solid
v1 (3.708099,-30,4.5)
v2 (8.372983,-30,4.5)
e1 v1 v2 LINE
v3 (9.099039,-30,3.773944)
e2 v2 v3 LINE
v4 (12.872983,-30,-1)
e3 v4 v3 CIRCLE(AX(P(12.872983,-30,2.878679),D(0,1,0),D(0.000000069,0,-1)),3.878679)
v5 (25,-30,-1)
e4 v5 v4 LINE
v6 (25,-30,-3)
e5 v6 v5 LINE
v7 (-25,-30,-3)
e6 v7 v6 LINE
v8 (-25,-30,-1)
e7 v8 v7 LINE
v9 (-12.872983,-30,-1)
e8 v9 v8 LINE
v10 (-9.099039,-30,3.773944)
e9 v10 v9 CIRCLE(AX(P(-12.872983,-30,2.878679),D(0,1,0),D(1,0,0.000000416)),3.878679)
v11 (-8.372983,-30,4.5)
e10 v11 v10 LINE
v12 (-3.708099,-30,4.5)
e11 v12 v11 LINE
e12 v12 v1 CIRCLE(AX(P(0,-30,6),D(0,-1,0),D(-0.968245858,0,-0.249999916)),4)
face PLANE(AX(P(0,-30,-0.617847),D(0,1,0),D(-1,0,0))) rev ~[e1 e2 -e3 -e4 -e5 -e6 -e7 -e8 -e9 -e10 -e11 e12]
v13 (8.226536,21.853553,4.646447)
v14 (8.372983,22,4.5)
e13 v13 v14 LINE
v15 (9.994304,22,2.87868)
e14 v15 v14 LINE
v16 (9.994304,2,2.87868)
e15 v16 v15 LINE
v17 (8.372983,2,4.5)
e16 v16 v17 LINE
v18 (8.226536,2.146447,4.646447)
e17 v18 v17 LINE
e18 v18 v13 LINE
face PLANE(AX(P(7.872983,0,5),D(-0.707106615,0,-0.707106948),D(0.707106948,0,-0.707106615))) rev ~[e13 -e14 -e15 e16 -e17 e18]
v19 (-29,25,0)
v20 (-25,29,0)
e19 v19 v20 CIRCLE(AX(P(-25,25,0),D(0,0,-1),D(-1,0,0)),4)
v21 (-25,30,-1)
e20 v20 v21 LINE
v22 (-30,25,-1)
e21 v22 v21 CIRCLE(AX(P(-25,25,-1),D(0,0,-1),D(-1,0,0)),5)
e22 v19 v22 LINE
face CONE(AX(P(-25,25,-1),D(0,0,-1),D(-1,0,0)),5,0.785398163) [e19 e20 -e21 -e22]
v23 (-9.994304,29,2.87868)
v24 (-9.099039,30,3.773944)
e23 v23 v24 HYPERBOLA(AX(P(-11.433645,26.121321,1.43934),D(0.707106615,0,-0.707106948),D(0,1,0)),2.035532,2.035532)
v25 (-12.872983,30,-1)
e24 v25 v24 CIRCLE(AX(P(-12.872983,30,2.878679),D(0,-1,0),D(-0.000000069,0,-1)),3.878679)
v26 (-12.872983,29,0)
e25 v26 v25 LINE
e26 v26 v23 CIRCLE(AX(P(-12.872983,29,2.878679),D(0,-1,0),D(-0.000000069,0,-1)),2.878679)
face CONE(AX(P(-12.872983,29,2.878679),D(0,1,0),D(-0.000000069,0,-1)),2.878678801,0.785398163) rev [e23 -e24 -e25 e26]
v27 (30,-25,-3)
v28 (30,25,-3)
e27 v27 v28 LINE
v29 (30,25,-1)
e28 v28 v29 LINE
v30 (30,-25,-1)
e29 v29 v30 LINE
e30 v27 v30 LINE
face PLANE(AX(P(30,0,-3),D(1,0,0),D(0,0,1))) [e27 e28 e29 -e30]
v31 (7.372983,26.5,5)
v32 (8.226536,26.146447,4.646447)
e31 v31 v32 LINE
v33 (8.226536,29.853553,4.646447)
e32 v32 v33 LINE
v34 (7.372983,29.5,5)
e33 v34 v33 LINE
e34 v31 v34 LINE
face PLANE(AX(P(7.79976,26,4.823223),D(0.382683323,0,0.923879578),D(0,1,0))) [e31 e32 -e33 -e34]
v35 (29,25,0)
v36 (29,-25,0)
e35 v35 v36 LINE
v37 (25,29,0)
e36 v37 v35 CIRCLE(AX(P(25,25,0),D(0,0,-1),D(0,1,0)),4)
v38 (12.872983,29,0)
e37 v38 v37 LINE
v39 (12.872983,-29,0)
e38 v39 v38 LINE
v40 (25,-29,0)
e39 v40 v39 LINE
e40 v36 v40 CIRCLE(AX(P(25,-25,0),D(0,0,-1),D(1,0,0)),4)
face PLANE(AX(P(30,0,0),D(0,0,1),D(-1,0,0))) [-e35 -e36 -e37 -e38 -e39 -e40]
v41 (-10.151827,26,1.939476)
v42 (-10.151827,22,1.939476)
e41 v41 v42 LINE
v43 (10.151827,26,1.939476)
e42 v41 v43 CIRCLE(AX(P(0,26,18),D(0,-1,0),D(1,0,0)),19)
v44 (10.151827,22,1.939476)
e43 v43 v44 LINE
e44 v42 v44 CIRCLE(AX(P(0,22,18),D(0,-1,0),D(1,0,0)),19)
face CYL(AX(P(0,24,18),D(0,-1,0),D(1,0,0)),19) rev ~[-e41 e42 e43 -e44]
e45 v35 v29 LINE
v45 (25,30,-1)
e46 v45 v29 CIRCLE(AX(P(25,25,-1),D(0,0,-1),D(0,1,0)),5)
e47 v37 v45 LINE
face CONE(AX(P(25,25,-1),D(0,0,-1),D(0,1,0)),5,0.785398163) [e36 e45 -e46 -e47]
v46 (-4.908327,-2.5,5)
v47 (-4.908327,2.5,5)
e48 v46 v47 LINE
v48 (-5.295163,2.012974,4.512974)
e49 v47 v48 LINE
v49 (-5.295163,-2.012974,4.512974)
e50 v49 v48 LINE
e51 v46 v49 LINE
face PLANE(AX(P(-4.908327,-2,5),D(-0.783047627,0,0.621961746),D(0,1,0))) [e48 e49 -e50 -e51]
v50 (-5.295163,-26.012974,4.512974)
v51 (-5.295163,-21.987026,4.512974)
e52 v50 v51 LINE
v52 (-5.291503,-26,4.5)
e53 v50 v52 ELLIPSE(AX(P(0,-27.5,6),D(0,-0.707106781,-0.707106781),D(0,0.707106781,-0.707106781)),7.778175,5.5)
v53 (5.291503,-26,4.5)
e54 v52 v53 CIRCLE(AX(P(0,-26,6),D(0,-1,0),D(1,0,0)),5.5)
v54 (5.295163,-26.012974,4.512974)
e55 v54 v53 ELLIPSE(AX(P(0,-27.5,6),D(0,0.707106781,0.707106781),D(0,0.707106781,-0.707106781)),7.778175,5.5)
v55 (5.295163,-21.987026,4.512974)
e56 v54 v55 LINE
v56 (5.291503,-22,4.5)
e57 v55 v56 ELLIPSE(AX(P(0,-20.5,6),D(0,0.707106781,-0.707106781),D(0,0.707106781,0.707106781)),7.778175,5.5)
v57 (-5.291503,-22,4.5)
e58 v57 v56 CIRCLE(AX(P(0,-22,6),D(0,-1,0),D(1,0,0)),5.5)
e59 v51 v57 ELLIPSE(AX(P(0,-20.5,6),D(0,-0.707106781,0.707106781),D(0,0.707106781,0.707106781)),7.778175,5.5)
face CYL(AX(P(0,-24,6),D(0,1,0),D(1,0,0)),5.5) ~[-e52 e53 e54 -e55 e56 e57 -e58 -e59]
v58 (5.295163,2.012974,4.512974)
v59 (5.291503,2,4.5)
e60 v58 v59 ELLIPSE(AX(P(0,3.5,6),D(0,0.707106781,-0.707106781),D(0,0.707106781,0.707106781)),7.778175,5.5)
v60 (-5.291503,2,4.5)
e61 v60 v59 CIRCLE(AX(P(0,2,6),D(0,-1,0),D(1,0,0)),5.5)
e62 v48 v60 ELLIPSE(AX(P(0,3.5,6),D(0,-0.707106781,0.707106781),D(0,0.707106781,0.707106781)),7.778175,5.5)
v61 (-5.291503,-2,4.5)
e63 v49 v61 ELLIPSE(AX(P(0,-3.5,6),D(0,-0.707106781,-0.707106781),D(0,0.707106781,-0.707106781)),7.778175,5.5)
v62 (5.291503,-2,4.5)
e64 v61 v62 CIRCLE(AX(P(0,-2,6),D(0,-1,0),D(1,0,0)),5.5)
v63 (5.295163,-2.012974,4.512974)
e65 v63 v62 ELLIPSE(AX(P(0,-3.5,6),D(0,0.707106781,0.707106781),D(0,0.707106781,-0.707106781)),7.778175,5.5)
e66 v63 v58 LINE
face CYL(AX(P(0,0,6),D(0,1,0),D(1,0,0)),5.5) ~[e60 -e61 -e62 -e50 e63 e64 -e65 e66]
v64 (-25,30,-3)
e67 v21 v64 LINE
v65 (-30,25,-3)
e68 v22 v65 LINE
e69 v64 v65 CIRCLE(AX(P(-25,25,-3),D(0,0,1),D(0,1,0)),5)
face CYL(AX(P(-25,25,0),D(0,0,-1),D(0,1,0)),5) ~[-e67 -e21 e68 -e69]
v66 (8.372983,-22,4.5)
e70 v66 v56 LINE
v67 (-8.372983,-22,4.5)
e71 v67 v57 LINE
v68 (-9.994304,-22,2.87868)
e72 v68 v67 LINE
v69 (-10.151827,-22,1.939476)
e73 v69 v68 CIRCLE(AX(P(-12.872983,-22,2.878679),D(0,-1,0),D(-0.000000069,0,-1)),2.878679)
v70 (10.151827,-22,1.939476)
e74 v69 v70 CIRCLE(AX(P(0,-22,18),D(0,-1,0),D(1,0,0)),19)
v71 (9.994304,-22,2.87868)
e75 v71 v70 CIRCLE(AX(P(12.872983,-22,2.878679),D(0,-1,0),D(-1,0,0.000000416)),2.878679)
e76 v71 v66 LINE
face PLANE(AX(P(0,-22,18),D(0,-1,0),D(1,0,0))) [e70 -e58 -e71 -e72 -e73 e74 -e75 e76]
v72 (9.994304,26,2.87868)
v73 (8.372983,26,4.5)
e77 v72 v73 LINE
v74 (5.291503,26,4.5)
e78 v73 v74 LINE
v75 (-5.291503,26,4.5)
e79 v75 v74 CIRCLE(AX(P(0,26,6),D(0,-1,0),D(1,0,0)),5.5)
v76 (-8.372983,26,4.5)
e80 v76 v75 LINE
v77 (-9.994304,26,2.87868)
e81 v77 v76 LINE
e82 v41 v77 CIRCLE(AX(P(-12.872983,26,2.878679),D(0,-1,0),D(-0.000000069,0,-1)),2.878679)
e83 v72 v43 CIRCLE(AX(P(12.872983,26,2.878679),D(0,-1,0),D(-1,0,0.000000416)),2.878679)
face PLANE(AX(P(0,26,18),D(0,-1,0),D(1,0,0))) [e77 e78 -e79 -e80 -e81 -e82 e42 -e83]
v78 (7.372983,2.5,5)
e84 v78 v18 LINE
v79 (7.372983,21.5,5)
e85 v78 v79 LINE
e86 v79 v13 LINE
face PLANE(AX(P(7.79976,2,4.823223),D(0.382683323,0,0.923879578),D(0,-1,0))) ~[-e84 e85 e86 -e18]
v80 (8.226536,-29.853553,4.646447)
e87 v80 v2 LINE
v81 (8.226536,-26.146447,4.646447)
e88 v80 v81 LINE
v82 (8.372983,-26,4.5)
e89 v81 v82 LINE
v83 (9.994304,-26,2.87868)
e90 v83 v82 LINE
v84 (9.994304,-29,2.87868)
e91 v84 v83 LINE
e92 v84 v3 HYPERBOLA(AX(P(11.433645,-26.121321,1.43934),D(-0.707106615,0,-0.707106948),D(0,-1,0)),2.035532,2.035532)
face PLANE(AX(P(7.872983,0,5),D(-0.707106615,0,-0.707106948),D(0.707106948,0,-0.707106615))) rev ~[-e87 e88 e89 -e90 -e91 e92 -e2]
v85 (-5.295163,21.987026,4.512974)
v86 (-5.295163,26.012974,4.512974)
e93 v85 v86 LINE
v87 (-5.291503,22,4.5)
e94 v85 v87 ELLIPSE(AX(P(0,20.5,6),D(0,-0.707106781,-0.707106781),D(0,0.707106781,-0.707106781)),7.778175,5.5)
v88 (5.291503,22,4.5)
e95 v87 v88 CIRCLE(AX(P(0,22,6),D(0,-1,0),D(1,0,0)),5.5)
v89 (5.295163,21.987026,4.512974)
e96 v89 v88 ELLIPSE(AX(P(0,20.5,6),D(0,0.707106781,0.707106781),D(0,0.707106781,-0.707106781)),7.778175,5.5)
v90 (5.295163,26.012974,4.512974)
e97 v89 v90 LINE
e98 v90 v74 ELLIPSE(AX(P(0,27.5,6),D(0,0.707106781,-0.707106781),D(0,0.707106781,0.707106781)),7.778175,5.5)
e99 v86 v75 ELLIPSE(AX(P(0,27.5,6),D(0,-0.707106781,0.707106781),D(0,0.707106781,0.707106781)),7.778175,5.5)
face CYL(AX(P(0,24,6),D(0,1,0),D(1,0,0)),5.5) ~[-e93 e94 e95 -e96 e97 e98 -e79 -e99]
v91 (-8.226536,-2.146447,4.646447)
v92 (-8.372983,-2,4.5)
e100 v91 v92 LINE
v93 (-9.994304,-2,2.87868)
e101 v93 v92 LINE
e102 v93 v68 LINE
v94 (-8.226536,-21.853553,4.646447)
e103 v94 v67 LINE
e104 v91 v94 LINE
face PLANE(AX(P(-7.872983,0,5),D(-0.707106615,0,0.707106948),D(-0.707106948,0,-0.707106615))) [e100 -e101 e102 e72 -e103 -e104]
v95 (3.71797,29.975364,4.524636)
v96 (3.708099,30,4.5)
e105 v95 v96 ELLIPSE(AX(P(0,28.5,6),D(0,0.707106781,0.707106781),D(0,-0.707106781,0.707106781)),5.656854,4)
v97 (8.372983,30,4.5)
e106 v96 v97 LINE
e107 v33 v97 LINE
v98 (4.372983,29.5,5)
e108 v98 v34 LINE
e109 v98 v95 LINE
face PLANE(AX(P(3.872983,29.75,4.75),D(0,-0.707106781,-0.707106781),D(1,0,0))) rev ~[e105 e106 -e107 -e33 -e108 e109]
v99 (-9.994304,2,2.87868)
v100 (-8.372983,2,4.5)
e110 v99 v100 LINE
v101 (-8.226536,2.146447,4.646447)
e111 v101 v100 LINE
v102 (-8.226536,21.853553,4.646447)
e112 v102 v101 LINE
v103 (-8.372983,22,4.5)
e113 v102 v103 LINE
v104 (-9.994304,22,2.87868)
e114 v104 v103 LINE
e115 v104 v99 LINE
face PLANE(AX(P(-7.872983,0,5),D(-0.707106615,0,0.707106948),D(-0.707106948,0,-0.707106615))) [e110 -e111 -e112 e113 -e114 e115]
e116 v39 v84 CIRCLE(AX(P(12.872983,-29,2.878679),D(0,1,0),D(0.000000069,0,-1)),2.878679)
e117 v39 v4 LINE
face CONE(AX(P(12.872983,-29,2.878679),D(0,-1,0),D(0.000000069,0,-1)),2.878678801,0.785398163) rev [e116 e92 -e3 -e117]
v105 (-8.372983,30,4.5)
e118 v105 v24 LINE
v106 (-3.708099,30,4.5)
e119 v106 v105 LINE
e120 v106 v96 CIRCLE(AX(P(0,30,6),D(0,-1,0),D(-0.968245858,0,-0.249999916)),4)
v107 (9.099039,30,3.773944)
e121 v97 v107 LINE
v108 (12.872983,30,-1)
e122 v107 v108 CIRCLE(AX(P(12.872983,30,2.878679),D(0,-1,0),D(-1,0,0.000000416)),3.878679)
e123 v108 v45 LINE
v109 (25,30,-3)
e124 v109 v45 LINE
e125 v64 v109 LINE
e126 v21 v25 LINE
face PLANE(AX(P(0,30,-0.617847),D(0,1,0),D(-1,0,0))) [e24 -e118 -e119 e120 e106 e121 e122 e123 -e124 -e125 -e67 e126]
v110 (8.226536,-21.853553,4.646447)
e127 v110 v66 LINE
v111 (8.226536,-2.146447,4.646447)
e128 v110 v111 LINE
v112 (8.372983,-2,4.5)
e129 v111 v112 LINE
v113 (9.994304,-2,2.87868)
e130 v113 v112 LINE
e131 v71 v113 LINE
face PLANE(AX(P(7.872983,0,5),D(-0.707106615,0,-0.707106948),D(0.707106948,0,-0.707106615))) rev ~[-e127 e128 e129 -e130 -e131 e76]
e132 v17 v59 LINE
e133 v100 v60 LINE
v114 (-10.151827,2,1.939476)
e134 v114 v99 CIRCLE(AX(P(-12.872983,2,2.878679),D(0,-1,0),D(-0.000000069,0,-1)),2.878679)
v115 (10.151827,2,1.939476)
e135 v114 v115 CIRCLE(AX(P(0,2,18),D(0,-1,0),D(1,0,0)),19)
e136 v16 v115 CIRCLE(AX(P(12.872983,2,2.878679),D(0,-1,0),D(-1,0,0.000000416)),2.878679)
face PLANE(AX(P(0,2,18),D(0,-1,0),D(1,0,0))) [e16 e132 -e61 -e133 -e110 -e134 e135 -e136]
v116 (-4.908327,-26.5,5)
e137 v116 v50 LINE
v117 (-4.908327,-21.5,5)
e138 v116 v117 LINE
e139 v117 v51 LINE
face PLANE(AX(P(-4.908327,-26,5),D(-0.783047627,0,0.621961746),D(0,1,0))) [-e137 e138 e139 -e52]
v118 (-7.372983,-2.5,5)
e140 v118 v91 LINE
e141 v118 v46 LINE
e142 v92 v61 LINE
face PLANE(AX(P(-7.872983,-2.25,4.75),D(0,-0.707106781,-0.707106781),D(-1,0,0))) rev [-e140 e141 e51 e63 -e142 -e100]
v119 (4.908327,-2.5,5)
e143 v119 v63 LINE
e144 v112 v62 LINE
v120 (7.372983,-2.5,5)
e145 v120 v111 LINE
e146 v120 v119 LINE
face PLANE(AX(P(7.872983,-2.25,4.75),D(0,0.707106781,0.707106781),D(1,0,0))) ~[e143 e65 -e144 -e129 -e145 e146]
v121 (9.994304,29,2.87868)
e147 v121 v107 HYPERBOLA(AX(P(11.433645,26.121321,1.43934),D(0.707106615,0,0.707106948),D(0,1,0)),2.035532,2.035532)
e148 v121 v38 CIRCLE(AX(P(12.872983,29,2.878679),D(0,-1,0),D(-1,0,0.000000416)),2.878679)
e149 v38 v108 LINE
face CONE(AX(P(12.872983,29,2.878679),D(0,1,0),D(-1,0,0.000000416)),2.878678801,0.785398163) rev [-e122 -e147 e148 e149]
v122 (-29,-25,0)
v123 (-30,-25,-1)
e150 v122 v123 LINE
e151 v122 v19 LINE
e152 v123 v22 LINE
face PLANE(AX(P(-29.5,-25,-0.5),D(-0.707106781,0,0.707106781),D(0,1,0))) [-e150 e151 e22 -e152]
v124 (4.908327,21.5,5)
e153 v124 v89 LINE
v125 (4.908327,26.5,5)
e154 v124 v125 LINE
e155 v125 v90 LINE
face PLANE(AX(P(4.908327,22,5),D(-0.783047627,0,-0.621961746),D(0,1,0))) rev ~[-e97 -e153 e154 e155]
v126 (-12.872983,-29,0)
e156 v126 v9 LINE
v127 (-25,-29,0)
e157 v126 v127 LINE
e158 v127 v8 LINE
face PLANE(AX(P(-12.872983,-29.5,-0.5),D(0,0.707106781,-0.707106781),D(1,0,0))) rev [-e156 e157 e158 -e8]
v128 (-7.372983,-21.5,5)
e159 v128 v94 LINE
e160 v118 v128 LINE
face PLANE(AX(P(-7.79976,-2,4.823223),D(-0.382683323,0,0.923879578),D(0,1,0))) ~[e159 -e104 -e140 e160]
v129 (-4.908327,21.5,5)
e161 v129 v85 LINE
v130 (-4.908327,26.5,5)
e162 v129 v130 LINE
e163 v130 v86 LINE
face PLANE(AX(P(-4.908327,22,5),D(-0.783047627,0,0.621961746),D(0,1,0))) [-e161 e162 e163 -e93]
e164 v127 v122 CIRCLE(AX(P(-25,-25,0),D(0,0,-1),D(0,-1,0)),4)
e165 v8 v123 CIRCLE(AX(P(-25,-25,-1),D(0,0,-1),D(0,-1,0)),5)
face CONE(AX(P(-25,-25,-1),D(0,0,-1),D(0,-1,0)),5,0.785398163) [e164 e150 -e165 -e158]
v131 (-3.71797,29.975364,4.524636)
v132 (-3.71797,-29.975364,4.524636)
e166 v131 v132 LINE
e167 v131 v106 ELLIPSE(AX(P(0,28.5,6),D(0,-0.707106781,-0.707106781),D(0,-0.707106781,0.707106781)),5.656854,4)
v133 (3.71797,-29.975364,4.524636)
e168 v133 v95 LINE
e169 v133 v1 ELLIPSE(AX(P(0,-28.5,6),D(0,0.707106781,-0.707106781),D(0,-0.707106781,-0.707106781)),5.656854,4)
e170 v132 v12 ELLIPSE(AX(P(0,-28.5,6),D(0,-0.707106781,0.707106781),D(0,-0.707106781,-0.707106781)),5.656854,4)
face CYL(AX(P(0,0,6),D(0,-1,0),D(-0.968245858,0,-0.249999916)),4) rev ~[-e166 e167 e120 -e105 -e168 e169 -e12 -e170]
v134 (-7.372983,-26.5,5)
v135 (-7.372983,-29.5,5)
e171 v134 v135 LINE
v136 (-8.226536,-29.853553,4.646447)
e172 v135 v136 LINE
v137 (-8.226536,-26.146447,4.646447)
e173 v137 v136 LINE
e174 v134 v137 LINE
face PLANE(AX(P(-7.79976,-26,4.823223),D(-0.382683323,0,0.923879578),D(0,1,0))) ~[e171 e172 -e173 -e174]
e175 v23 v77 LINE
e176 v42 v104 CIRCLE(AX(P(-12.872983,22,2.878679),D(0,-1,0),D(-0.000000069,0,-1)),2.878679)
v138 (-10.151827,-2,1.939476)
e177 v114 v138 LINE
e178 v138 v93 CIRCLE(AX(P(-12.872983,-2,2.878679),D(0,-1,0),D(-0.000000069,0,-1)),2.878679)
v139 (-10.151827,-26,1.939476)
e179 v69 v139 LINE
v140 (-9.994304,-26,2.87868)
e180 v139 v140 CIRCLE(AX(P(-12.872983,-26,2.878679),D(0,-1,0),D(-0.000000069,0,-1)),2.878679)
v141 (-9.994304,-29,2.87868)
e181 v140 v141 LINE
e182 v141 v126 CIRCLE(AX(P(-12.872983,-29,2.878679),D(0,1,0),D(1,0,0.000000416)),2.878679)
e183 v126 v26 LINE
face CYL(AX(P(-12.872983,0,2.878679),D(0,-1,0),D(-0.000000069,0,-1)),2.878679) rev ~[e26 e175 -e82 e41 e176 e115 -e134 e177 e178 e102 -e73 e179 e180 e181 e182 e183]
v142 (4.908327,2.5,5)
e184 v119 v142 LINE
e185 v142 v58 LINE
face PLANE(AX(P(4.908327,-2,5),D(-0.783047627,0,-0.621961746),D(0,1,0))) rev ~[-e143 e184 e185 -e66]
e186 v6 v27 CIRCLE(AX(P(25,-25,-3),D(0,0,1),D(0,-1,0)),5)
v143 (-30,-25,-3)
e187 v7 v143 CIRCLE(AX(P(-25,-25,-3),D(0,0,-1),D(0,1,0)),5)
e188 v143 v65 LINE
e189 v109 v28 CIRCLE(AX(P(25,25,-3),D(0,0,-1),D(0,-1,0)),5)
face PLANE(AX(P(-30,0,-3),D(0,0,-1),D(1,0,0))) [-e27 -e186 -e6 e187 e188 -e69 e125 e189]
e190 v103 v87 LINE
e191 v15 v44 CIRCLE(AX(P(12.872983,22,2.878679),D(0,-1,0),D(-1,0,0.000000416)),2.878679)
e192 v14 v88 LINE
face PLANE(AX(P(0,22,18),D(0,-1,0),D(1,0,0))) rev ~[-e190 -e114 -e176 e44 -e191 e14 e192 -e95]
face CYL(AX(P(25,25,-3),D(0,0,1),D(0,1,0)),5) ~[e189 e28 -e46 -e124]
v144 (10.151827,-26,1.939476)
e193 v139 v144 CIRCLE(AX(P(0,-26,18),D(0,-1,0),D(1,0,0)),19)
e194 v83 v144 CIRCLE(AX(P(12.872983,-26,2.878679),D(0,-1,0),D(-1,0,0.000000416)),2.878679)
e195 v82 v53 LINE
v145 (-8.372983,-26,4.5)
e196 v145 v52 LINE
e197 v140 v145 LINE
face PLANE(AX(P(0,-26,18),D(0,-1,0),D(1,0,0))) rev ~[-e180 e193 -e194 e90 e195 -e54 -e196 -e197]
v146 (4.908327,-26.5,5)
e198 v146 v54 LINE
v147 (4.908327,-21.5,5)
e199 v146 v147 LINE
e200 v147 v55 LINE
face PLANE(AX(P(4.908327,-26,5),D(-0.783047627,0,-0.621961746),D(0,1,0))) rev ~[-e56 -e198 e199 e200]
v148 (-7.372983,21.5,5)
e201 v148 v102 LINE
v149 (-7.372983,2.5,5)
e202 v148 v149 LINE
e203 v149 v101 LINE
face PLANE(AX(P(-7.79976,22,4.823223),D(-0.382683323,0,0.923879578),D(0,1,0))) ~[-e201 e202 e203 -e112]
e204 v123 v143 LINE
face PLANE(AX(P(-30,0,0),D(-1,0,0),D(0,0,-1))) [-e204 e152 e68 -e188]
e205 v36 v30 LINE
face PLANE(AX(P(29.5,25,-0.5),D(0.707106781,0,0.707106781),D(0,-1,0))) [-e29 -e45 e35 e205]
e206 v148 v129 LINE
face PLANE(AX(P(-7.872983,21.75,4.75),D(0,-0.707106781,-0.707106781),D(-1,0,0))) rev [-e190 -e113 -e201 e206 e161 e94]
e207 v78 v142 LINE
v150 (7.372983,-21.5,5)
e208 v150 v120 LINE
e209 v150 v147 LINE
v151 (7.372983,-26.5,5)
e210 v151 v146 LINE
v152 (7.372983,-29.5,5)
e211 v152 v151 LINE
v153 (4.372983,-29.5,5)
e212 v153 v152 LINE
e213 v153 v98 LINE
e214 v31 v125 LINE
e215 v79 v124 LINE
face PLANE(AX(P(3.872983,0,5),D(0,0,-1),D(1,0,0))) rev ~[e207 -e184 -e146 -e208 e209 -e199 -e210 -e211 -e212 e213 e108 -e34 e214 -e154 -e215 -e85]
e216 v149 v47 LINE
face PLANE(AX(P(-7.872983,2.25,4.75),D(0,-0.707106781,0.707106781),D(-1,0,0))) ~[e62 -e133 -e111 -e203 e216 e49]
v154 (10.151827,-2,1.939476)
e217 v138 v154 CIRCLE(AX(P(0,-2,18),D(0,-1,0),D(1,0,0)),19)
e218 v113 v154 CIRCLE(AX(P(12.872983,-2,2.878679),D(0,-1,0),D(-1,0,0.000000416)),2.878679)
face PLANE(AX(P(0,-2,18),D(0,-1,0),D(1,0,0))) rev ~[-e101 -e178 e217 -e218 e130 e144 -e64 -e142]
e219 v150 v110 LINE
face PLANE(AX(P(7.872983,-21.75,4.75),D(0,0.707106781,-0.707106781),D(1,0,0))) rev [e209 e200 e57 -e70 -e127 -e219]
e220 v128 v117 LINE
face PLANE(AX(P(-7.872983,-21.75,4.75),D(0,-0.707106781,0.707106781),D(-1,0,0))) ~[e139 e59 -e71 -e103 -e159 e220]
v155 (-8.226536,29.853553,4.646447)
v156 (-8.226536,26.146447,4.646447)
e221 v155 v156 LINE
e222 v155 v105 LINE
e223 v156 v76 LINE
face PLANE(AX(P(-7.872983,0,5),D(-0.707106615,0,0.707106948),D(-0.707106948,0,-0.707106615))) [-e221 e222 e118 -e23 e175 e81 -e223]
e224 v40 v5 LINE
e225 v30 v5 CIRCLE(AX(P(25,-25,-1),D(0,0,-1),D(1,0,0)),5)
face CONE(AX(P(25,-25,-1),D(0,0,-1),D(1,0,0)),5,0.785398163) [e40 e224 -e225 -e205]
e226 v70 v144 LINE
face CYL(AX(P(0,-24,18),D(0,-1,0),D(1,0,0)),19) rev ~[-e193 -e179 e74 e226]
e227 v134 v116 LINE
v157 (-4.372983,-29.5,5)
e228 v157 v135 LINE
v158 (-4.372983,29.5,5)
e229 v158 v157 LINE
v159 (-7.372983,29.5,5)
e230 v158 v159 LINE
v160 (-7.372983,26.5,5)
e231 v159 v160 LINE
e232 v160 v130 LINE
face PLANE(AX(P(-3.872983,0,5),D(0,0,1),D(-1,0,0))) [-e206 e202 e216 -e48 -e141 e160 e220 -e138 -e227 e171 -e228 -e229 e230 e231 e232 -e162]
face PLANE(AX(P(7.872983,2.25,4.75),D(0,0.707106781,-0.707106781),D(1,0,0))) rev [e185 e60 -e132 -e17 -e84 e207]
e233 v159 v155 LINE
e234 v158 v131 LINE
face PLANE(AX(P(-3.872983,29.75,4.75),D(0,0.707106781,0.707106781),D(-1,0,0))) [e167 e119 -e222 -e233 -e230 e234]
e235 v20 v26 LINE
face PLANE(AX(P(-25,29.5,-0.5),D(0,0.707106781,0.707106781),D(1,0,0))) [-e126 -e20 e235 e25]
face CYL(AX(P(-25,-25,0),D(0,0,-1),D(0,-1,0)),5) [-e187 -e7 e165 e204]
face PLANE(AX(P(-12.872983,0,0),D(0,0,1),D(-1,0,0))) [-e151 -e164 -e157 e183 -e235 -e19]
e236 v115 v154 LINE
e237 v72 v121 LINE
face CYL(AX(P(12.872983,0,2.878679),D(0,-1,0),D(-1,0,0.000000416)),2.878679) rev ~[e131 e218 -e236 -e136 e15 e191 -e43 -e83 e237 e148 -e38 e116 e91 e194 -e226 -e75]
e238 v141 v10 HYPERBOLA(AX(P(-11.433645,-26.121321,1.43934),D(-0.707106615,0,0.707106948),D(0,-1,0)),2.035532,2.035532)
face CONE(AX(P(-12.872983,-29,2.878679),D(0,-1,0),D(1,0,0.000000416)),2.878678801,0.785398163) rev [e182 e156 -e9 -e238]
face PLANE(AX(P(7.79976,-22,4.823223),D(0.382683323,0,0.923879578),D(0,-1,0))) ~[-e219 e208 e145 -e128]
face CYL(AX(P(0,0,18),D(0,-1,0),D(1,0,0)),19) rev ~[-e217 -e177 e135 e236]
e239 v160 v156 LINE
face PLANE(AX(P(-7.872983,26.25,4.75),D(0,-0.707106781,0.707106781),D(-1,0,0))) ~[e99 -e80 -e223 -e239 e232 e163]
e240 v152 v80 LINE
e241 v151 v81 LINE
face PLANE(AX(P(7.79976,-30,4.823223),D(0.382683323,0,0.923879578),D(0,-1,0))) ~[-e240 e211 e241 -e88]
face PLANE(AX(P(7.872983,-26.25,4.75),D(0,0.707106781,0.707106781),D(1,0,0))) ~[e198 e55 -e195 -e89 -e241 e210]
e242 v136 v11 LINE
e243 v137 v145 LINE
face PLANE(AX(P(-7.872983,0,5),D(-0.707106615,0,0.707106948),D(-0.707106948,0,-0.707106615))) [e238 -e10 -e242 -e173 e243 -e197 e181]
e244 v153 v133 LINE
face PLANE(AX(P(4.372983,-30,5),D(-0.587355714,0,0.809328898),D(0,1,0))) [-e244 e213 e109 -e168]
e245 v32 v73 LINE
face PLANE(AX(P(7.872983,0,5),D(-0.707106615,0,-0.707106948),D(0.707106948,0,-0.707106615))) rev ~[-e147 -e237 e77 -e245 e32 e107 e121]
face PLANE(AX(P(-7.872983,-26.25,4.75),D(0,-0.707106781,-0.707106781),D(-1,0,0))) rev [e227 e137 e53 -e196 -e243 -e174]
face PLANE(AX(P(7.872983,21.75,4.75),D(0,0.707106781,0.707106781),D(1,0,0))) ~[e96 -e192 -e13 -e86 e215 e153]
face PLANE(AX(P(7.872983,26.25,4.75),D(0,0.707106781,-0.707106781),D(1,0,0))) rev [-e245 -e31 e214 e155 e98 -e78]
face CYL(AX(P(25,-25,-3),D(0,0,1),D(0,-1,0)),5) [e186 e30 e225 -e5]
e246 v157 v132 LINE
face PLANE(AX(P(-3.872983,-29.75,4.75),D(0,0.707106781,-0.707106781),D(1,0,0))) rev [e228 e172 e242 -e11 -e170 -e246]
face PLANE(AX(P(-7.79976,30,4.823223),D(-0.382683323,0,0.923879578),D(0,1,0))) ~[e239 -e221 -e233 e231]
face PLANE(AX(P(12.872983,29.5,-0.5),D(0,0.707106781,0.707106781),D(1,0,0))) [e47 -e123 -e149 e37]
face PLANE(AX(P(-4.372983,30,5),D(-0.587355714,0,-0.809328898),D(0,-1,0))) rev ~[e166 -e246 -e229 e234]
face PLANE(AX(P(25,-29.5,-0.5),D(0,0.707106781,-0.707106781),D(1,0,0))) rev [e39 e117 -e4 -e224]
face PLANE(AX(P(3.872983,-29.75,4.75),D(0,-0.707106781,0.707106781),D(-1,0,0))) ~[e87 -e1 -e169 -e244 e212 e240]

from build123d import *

# Parameters (mm, degrees)
PAD_DEPTH              = 30
SKETCH001_R            = 19
SKETCH001_R_2          = 5.5
POCKET_DEPTH           = 2
LINEARPATTERN_COUNT    = 2
LINEARPATTERN_PITCH    = 24
LINEARPATTERN001_COUNT = 2
LINEARPATTERN001_PITCH = 24
FILLET_R               = 5
CHAMFER_SIZE           = 0.5
CHAMFER001_SIZE        = 1


with BuildPart() as part:
    # Sketch → Pad (new body, symmetric)
    with BuildSketch(Plane.XZ):
        with BuildLine():
            ThreePointArc((-3.872983, 5), (0, 2), (3.872983, 5))
            Line((3.872983, 5), (7.872983, 5))
            Line((7.872983, 5), (9.994304, 2.87868))
            ThreePointArc((9.994304, 2.87868), (10.837449, 0.843146), (12.872983, 0))
            Line((30, 0), (12.872983, 0))
            Line((30, -3), (30, 0))
            Line((-30, -3), (30, -3))
            Line((-30, 0), (-30, -3))
            Line((-12.872983, 0), (-30, 0))
            ThreePointArc((-12.872983, 0), (-10.837449, 0.843146), (-9.994304, 2.87868))
            Line((-7.872983, 5), (-9.994304, 2.87868))
            Line((-3.872983, 5), (-7.872983, 5))
        make_face()
    extrude(amount=PAD_DEPTH, both=True)

    # Sketch001 → Pocket (cut, symmetric)
    with BuildSketch(Plane.XZ):
        with Locations((0, 18)):
            Circle(SKETCH001_R)
        with Locations((0, 6)):
            Circle(SKETCH001_R_2, mode=Mode.SUBTRACT)
    pocket = extrude(amount=POCKET_DEPTH, both=True, mode=Mode.SUBTRACT)

    # LinearPattern: Pocket ×2
    with Locations(*[(0, -i * LINEARPATTERN_PITCH, 0) for i in range(1, LINEARPATTERN_COUNT)]):
        add(pocket, mode=Mode.SUBTRACT)

    # LinearPattern001: Pocket ×2
    with Locations(*[(0, i * LINEARPATTERN001_PITCH, 0) for i in range(1, LINEARPATTERN001_COUNT)]):
        add(pocket, mode=Mode.SUBTRACT)

    # Fillet
    fillet_edges = [part.edges().sort_by_distance(p)[0] for p in [
        (30, -30, -1.5),
        (30, 30, -1.5),
        (-30, -30, -1.5),
        (-30, 30, -1.5),
    ]]
    fillet(fillet_edges, radius=FILLET_R)

    # Chamfer
    chamfer_edges = [part.edges().sort_by_distance(p)[0] for p in [
        (-5.872983, 30, 5),
        (-7.872983, 28, 5),
        (-6.640655, 26, 5),
        (-5.408327, 24, 5),
        (-6.640655, 22, 5),
        (-7.872983, 12, 5),
        (-6.640655, 2, 5),
        (-5.408327, 0, 5),
        (-6.640655, -2, 5),
        (-7.872983, -12, 5),
        (-6.640655, -22, 5),
        (-5.408327, -24, 5),
        (-6.640655, -26, 5),
        (-7.872983, -28, 5),
        (-5.872983, -30, 5),
        (-3.872983, 0, 5),
        (5.872983, 30, 5),
        (7.872983, 28, 5),
        (6.640655, 26, 5),
        (5.408327, 24, 5),
        (6.640655, 22, 5),
        (7.872983, 12, 5),
        (6.640655, 2, 5),
        (5.408327, 0, 5),
        (6.640655, -2, 5),
        (7.872983, -12, 5),
        (6.640655, -22, 5),
        (5.408327, -24, 5),
        (6.640655, -26, 5),
        (7.872983, -28, 5),
        (5.872983, -30, 5),
        (3.872983, 0, 5),
    ]]
    chamfer(chamfer_edges, length=CHAMFER_SIZE)

    # Chamfer001
    chamfer001_edges = [part.edges().sort_by_distance(p)[0] for p in [
        (18.936492, -30, 0),
        (-18.936492, -30, 0),
    ]]
    chamfer(chamfer001_edges, length=CHAMFER001_SIZE)


solid = part.part
